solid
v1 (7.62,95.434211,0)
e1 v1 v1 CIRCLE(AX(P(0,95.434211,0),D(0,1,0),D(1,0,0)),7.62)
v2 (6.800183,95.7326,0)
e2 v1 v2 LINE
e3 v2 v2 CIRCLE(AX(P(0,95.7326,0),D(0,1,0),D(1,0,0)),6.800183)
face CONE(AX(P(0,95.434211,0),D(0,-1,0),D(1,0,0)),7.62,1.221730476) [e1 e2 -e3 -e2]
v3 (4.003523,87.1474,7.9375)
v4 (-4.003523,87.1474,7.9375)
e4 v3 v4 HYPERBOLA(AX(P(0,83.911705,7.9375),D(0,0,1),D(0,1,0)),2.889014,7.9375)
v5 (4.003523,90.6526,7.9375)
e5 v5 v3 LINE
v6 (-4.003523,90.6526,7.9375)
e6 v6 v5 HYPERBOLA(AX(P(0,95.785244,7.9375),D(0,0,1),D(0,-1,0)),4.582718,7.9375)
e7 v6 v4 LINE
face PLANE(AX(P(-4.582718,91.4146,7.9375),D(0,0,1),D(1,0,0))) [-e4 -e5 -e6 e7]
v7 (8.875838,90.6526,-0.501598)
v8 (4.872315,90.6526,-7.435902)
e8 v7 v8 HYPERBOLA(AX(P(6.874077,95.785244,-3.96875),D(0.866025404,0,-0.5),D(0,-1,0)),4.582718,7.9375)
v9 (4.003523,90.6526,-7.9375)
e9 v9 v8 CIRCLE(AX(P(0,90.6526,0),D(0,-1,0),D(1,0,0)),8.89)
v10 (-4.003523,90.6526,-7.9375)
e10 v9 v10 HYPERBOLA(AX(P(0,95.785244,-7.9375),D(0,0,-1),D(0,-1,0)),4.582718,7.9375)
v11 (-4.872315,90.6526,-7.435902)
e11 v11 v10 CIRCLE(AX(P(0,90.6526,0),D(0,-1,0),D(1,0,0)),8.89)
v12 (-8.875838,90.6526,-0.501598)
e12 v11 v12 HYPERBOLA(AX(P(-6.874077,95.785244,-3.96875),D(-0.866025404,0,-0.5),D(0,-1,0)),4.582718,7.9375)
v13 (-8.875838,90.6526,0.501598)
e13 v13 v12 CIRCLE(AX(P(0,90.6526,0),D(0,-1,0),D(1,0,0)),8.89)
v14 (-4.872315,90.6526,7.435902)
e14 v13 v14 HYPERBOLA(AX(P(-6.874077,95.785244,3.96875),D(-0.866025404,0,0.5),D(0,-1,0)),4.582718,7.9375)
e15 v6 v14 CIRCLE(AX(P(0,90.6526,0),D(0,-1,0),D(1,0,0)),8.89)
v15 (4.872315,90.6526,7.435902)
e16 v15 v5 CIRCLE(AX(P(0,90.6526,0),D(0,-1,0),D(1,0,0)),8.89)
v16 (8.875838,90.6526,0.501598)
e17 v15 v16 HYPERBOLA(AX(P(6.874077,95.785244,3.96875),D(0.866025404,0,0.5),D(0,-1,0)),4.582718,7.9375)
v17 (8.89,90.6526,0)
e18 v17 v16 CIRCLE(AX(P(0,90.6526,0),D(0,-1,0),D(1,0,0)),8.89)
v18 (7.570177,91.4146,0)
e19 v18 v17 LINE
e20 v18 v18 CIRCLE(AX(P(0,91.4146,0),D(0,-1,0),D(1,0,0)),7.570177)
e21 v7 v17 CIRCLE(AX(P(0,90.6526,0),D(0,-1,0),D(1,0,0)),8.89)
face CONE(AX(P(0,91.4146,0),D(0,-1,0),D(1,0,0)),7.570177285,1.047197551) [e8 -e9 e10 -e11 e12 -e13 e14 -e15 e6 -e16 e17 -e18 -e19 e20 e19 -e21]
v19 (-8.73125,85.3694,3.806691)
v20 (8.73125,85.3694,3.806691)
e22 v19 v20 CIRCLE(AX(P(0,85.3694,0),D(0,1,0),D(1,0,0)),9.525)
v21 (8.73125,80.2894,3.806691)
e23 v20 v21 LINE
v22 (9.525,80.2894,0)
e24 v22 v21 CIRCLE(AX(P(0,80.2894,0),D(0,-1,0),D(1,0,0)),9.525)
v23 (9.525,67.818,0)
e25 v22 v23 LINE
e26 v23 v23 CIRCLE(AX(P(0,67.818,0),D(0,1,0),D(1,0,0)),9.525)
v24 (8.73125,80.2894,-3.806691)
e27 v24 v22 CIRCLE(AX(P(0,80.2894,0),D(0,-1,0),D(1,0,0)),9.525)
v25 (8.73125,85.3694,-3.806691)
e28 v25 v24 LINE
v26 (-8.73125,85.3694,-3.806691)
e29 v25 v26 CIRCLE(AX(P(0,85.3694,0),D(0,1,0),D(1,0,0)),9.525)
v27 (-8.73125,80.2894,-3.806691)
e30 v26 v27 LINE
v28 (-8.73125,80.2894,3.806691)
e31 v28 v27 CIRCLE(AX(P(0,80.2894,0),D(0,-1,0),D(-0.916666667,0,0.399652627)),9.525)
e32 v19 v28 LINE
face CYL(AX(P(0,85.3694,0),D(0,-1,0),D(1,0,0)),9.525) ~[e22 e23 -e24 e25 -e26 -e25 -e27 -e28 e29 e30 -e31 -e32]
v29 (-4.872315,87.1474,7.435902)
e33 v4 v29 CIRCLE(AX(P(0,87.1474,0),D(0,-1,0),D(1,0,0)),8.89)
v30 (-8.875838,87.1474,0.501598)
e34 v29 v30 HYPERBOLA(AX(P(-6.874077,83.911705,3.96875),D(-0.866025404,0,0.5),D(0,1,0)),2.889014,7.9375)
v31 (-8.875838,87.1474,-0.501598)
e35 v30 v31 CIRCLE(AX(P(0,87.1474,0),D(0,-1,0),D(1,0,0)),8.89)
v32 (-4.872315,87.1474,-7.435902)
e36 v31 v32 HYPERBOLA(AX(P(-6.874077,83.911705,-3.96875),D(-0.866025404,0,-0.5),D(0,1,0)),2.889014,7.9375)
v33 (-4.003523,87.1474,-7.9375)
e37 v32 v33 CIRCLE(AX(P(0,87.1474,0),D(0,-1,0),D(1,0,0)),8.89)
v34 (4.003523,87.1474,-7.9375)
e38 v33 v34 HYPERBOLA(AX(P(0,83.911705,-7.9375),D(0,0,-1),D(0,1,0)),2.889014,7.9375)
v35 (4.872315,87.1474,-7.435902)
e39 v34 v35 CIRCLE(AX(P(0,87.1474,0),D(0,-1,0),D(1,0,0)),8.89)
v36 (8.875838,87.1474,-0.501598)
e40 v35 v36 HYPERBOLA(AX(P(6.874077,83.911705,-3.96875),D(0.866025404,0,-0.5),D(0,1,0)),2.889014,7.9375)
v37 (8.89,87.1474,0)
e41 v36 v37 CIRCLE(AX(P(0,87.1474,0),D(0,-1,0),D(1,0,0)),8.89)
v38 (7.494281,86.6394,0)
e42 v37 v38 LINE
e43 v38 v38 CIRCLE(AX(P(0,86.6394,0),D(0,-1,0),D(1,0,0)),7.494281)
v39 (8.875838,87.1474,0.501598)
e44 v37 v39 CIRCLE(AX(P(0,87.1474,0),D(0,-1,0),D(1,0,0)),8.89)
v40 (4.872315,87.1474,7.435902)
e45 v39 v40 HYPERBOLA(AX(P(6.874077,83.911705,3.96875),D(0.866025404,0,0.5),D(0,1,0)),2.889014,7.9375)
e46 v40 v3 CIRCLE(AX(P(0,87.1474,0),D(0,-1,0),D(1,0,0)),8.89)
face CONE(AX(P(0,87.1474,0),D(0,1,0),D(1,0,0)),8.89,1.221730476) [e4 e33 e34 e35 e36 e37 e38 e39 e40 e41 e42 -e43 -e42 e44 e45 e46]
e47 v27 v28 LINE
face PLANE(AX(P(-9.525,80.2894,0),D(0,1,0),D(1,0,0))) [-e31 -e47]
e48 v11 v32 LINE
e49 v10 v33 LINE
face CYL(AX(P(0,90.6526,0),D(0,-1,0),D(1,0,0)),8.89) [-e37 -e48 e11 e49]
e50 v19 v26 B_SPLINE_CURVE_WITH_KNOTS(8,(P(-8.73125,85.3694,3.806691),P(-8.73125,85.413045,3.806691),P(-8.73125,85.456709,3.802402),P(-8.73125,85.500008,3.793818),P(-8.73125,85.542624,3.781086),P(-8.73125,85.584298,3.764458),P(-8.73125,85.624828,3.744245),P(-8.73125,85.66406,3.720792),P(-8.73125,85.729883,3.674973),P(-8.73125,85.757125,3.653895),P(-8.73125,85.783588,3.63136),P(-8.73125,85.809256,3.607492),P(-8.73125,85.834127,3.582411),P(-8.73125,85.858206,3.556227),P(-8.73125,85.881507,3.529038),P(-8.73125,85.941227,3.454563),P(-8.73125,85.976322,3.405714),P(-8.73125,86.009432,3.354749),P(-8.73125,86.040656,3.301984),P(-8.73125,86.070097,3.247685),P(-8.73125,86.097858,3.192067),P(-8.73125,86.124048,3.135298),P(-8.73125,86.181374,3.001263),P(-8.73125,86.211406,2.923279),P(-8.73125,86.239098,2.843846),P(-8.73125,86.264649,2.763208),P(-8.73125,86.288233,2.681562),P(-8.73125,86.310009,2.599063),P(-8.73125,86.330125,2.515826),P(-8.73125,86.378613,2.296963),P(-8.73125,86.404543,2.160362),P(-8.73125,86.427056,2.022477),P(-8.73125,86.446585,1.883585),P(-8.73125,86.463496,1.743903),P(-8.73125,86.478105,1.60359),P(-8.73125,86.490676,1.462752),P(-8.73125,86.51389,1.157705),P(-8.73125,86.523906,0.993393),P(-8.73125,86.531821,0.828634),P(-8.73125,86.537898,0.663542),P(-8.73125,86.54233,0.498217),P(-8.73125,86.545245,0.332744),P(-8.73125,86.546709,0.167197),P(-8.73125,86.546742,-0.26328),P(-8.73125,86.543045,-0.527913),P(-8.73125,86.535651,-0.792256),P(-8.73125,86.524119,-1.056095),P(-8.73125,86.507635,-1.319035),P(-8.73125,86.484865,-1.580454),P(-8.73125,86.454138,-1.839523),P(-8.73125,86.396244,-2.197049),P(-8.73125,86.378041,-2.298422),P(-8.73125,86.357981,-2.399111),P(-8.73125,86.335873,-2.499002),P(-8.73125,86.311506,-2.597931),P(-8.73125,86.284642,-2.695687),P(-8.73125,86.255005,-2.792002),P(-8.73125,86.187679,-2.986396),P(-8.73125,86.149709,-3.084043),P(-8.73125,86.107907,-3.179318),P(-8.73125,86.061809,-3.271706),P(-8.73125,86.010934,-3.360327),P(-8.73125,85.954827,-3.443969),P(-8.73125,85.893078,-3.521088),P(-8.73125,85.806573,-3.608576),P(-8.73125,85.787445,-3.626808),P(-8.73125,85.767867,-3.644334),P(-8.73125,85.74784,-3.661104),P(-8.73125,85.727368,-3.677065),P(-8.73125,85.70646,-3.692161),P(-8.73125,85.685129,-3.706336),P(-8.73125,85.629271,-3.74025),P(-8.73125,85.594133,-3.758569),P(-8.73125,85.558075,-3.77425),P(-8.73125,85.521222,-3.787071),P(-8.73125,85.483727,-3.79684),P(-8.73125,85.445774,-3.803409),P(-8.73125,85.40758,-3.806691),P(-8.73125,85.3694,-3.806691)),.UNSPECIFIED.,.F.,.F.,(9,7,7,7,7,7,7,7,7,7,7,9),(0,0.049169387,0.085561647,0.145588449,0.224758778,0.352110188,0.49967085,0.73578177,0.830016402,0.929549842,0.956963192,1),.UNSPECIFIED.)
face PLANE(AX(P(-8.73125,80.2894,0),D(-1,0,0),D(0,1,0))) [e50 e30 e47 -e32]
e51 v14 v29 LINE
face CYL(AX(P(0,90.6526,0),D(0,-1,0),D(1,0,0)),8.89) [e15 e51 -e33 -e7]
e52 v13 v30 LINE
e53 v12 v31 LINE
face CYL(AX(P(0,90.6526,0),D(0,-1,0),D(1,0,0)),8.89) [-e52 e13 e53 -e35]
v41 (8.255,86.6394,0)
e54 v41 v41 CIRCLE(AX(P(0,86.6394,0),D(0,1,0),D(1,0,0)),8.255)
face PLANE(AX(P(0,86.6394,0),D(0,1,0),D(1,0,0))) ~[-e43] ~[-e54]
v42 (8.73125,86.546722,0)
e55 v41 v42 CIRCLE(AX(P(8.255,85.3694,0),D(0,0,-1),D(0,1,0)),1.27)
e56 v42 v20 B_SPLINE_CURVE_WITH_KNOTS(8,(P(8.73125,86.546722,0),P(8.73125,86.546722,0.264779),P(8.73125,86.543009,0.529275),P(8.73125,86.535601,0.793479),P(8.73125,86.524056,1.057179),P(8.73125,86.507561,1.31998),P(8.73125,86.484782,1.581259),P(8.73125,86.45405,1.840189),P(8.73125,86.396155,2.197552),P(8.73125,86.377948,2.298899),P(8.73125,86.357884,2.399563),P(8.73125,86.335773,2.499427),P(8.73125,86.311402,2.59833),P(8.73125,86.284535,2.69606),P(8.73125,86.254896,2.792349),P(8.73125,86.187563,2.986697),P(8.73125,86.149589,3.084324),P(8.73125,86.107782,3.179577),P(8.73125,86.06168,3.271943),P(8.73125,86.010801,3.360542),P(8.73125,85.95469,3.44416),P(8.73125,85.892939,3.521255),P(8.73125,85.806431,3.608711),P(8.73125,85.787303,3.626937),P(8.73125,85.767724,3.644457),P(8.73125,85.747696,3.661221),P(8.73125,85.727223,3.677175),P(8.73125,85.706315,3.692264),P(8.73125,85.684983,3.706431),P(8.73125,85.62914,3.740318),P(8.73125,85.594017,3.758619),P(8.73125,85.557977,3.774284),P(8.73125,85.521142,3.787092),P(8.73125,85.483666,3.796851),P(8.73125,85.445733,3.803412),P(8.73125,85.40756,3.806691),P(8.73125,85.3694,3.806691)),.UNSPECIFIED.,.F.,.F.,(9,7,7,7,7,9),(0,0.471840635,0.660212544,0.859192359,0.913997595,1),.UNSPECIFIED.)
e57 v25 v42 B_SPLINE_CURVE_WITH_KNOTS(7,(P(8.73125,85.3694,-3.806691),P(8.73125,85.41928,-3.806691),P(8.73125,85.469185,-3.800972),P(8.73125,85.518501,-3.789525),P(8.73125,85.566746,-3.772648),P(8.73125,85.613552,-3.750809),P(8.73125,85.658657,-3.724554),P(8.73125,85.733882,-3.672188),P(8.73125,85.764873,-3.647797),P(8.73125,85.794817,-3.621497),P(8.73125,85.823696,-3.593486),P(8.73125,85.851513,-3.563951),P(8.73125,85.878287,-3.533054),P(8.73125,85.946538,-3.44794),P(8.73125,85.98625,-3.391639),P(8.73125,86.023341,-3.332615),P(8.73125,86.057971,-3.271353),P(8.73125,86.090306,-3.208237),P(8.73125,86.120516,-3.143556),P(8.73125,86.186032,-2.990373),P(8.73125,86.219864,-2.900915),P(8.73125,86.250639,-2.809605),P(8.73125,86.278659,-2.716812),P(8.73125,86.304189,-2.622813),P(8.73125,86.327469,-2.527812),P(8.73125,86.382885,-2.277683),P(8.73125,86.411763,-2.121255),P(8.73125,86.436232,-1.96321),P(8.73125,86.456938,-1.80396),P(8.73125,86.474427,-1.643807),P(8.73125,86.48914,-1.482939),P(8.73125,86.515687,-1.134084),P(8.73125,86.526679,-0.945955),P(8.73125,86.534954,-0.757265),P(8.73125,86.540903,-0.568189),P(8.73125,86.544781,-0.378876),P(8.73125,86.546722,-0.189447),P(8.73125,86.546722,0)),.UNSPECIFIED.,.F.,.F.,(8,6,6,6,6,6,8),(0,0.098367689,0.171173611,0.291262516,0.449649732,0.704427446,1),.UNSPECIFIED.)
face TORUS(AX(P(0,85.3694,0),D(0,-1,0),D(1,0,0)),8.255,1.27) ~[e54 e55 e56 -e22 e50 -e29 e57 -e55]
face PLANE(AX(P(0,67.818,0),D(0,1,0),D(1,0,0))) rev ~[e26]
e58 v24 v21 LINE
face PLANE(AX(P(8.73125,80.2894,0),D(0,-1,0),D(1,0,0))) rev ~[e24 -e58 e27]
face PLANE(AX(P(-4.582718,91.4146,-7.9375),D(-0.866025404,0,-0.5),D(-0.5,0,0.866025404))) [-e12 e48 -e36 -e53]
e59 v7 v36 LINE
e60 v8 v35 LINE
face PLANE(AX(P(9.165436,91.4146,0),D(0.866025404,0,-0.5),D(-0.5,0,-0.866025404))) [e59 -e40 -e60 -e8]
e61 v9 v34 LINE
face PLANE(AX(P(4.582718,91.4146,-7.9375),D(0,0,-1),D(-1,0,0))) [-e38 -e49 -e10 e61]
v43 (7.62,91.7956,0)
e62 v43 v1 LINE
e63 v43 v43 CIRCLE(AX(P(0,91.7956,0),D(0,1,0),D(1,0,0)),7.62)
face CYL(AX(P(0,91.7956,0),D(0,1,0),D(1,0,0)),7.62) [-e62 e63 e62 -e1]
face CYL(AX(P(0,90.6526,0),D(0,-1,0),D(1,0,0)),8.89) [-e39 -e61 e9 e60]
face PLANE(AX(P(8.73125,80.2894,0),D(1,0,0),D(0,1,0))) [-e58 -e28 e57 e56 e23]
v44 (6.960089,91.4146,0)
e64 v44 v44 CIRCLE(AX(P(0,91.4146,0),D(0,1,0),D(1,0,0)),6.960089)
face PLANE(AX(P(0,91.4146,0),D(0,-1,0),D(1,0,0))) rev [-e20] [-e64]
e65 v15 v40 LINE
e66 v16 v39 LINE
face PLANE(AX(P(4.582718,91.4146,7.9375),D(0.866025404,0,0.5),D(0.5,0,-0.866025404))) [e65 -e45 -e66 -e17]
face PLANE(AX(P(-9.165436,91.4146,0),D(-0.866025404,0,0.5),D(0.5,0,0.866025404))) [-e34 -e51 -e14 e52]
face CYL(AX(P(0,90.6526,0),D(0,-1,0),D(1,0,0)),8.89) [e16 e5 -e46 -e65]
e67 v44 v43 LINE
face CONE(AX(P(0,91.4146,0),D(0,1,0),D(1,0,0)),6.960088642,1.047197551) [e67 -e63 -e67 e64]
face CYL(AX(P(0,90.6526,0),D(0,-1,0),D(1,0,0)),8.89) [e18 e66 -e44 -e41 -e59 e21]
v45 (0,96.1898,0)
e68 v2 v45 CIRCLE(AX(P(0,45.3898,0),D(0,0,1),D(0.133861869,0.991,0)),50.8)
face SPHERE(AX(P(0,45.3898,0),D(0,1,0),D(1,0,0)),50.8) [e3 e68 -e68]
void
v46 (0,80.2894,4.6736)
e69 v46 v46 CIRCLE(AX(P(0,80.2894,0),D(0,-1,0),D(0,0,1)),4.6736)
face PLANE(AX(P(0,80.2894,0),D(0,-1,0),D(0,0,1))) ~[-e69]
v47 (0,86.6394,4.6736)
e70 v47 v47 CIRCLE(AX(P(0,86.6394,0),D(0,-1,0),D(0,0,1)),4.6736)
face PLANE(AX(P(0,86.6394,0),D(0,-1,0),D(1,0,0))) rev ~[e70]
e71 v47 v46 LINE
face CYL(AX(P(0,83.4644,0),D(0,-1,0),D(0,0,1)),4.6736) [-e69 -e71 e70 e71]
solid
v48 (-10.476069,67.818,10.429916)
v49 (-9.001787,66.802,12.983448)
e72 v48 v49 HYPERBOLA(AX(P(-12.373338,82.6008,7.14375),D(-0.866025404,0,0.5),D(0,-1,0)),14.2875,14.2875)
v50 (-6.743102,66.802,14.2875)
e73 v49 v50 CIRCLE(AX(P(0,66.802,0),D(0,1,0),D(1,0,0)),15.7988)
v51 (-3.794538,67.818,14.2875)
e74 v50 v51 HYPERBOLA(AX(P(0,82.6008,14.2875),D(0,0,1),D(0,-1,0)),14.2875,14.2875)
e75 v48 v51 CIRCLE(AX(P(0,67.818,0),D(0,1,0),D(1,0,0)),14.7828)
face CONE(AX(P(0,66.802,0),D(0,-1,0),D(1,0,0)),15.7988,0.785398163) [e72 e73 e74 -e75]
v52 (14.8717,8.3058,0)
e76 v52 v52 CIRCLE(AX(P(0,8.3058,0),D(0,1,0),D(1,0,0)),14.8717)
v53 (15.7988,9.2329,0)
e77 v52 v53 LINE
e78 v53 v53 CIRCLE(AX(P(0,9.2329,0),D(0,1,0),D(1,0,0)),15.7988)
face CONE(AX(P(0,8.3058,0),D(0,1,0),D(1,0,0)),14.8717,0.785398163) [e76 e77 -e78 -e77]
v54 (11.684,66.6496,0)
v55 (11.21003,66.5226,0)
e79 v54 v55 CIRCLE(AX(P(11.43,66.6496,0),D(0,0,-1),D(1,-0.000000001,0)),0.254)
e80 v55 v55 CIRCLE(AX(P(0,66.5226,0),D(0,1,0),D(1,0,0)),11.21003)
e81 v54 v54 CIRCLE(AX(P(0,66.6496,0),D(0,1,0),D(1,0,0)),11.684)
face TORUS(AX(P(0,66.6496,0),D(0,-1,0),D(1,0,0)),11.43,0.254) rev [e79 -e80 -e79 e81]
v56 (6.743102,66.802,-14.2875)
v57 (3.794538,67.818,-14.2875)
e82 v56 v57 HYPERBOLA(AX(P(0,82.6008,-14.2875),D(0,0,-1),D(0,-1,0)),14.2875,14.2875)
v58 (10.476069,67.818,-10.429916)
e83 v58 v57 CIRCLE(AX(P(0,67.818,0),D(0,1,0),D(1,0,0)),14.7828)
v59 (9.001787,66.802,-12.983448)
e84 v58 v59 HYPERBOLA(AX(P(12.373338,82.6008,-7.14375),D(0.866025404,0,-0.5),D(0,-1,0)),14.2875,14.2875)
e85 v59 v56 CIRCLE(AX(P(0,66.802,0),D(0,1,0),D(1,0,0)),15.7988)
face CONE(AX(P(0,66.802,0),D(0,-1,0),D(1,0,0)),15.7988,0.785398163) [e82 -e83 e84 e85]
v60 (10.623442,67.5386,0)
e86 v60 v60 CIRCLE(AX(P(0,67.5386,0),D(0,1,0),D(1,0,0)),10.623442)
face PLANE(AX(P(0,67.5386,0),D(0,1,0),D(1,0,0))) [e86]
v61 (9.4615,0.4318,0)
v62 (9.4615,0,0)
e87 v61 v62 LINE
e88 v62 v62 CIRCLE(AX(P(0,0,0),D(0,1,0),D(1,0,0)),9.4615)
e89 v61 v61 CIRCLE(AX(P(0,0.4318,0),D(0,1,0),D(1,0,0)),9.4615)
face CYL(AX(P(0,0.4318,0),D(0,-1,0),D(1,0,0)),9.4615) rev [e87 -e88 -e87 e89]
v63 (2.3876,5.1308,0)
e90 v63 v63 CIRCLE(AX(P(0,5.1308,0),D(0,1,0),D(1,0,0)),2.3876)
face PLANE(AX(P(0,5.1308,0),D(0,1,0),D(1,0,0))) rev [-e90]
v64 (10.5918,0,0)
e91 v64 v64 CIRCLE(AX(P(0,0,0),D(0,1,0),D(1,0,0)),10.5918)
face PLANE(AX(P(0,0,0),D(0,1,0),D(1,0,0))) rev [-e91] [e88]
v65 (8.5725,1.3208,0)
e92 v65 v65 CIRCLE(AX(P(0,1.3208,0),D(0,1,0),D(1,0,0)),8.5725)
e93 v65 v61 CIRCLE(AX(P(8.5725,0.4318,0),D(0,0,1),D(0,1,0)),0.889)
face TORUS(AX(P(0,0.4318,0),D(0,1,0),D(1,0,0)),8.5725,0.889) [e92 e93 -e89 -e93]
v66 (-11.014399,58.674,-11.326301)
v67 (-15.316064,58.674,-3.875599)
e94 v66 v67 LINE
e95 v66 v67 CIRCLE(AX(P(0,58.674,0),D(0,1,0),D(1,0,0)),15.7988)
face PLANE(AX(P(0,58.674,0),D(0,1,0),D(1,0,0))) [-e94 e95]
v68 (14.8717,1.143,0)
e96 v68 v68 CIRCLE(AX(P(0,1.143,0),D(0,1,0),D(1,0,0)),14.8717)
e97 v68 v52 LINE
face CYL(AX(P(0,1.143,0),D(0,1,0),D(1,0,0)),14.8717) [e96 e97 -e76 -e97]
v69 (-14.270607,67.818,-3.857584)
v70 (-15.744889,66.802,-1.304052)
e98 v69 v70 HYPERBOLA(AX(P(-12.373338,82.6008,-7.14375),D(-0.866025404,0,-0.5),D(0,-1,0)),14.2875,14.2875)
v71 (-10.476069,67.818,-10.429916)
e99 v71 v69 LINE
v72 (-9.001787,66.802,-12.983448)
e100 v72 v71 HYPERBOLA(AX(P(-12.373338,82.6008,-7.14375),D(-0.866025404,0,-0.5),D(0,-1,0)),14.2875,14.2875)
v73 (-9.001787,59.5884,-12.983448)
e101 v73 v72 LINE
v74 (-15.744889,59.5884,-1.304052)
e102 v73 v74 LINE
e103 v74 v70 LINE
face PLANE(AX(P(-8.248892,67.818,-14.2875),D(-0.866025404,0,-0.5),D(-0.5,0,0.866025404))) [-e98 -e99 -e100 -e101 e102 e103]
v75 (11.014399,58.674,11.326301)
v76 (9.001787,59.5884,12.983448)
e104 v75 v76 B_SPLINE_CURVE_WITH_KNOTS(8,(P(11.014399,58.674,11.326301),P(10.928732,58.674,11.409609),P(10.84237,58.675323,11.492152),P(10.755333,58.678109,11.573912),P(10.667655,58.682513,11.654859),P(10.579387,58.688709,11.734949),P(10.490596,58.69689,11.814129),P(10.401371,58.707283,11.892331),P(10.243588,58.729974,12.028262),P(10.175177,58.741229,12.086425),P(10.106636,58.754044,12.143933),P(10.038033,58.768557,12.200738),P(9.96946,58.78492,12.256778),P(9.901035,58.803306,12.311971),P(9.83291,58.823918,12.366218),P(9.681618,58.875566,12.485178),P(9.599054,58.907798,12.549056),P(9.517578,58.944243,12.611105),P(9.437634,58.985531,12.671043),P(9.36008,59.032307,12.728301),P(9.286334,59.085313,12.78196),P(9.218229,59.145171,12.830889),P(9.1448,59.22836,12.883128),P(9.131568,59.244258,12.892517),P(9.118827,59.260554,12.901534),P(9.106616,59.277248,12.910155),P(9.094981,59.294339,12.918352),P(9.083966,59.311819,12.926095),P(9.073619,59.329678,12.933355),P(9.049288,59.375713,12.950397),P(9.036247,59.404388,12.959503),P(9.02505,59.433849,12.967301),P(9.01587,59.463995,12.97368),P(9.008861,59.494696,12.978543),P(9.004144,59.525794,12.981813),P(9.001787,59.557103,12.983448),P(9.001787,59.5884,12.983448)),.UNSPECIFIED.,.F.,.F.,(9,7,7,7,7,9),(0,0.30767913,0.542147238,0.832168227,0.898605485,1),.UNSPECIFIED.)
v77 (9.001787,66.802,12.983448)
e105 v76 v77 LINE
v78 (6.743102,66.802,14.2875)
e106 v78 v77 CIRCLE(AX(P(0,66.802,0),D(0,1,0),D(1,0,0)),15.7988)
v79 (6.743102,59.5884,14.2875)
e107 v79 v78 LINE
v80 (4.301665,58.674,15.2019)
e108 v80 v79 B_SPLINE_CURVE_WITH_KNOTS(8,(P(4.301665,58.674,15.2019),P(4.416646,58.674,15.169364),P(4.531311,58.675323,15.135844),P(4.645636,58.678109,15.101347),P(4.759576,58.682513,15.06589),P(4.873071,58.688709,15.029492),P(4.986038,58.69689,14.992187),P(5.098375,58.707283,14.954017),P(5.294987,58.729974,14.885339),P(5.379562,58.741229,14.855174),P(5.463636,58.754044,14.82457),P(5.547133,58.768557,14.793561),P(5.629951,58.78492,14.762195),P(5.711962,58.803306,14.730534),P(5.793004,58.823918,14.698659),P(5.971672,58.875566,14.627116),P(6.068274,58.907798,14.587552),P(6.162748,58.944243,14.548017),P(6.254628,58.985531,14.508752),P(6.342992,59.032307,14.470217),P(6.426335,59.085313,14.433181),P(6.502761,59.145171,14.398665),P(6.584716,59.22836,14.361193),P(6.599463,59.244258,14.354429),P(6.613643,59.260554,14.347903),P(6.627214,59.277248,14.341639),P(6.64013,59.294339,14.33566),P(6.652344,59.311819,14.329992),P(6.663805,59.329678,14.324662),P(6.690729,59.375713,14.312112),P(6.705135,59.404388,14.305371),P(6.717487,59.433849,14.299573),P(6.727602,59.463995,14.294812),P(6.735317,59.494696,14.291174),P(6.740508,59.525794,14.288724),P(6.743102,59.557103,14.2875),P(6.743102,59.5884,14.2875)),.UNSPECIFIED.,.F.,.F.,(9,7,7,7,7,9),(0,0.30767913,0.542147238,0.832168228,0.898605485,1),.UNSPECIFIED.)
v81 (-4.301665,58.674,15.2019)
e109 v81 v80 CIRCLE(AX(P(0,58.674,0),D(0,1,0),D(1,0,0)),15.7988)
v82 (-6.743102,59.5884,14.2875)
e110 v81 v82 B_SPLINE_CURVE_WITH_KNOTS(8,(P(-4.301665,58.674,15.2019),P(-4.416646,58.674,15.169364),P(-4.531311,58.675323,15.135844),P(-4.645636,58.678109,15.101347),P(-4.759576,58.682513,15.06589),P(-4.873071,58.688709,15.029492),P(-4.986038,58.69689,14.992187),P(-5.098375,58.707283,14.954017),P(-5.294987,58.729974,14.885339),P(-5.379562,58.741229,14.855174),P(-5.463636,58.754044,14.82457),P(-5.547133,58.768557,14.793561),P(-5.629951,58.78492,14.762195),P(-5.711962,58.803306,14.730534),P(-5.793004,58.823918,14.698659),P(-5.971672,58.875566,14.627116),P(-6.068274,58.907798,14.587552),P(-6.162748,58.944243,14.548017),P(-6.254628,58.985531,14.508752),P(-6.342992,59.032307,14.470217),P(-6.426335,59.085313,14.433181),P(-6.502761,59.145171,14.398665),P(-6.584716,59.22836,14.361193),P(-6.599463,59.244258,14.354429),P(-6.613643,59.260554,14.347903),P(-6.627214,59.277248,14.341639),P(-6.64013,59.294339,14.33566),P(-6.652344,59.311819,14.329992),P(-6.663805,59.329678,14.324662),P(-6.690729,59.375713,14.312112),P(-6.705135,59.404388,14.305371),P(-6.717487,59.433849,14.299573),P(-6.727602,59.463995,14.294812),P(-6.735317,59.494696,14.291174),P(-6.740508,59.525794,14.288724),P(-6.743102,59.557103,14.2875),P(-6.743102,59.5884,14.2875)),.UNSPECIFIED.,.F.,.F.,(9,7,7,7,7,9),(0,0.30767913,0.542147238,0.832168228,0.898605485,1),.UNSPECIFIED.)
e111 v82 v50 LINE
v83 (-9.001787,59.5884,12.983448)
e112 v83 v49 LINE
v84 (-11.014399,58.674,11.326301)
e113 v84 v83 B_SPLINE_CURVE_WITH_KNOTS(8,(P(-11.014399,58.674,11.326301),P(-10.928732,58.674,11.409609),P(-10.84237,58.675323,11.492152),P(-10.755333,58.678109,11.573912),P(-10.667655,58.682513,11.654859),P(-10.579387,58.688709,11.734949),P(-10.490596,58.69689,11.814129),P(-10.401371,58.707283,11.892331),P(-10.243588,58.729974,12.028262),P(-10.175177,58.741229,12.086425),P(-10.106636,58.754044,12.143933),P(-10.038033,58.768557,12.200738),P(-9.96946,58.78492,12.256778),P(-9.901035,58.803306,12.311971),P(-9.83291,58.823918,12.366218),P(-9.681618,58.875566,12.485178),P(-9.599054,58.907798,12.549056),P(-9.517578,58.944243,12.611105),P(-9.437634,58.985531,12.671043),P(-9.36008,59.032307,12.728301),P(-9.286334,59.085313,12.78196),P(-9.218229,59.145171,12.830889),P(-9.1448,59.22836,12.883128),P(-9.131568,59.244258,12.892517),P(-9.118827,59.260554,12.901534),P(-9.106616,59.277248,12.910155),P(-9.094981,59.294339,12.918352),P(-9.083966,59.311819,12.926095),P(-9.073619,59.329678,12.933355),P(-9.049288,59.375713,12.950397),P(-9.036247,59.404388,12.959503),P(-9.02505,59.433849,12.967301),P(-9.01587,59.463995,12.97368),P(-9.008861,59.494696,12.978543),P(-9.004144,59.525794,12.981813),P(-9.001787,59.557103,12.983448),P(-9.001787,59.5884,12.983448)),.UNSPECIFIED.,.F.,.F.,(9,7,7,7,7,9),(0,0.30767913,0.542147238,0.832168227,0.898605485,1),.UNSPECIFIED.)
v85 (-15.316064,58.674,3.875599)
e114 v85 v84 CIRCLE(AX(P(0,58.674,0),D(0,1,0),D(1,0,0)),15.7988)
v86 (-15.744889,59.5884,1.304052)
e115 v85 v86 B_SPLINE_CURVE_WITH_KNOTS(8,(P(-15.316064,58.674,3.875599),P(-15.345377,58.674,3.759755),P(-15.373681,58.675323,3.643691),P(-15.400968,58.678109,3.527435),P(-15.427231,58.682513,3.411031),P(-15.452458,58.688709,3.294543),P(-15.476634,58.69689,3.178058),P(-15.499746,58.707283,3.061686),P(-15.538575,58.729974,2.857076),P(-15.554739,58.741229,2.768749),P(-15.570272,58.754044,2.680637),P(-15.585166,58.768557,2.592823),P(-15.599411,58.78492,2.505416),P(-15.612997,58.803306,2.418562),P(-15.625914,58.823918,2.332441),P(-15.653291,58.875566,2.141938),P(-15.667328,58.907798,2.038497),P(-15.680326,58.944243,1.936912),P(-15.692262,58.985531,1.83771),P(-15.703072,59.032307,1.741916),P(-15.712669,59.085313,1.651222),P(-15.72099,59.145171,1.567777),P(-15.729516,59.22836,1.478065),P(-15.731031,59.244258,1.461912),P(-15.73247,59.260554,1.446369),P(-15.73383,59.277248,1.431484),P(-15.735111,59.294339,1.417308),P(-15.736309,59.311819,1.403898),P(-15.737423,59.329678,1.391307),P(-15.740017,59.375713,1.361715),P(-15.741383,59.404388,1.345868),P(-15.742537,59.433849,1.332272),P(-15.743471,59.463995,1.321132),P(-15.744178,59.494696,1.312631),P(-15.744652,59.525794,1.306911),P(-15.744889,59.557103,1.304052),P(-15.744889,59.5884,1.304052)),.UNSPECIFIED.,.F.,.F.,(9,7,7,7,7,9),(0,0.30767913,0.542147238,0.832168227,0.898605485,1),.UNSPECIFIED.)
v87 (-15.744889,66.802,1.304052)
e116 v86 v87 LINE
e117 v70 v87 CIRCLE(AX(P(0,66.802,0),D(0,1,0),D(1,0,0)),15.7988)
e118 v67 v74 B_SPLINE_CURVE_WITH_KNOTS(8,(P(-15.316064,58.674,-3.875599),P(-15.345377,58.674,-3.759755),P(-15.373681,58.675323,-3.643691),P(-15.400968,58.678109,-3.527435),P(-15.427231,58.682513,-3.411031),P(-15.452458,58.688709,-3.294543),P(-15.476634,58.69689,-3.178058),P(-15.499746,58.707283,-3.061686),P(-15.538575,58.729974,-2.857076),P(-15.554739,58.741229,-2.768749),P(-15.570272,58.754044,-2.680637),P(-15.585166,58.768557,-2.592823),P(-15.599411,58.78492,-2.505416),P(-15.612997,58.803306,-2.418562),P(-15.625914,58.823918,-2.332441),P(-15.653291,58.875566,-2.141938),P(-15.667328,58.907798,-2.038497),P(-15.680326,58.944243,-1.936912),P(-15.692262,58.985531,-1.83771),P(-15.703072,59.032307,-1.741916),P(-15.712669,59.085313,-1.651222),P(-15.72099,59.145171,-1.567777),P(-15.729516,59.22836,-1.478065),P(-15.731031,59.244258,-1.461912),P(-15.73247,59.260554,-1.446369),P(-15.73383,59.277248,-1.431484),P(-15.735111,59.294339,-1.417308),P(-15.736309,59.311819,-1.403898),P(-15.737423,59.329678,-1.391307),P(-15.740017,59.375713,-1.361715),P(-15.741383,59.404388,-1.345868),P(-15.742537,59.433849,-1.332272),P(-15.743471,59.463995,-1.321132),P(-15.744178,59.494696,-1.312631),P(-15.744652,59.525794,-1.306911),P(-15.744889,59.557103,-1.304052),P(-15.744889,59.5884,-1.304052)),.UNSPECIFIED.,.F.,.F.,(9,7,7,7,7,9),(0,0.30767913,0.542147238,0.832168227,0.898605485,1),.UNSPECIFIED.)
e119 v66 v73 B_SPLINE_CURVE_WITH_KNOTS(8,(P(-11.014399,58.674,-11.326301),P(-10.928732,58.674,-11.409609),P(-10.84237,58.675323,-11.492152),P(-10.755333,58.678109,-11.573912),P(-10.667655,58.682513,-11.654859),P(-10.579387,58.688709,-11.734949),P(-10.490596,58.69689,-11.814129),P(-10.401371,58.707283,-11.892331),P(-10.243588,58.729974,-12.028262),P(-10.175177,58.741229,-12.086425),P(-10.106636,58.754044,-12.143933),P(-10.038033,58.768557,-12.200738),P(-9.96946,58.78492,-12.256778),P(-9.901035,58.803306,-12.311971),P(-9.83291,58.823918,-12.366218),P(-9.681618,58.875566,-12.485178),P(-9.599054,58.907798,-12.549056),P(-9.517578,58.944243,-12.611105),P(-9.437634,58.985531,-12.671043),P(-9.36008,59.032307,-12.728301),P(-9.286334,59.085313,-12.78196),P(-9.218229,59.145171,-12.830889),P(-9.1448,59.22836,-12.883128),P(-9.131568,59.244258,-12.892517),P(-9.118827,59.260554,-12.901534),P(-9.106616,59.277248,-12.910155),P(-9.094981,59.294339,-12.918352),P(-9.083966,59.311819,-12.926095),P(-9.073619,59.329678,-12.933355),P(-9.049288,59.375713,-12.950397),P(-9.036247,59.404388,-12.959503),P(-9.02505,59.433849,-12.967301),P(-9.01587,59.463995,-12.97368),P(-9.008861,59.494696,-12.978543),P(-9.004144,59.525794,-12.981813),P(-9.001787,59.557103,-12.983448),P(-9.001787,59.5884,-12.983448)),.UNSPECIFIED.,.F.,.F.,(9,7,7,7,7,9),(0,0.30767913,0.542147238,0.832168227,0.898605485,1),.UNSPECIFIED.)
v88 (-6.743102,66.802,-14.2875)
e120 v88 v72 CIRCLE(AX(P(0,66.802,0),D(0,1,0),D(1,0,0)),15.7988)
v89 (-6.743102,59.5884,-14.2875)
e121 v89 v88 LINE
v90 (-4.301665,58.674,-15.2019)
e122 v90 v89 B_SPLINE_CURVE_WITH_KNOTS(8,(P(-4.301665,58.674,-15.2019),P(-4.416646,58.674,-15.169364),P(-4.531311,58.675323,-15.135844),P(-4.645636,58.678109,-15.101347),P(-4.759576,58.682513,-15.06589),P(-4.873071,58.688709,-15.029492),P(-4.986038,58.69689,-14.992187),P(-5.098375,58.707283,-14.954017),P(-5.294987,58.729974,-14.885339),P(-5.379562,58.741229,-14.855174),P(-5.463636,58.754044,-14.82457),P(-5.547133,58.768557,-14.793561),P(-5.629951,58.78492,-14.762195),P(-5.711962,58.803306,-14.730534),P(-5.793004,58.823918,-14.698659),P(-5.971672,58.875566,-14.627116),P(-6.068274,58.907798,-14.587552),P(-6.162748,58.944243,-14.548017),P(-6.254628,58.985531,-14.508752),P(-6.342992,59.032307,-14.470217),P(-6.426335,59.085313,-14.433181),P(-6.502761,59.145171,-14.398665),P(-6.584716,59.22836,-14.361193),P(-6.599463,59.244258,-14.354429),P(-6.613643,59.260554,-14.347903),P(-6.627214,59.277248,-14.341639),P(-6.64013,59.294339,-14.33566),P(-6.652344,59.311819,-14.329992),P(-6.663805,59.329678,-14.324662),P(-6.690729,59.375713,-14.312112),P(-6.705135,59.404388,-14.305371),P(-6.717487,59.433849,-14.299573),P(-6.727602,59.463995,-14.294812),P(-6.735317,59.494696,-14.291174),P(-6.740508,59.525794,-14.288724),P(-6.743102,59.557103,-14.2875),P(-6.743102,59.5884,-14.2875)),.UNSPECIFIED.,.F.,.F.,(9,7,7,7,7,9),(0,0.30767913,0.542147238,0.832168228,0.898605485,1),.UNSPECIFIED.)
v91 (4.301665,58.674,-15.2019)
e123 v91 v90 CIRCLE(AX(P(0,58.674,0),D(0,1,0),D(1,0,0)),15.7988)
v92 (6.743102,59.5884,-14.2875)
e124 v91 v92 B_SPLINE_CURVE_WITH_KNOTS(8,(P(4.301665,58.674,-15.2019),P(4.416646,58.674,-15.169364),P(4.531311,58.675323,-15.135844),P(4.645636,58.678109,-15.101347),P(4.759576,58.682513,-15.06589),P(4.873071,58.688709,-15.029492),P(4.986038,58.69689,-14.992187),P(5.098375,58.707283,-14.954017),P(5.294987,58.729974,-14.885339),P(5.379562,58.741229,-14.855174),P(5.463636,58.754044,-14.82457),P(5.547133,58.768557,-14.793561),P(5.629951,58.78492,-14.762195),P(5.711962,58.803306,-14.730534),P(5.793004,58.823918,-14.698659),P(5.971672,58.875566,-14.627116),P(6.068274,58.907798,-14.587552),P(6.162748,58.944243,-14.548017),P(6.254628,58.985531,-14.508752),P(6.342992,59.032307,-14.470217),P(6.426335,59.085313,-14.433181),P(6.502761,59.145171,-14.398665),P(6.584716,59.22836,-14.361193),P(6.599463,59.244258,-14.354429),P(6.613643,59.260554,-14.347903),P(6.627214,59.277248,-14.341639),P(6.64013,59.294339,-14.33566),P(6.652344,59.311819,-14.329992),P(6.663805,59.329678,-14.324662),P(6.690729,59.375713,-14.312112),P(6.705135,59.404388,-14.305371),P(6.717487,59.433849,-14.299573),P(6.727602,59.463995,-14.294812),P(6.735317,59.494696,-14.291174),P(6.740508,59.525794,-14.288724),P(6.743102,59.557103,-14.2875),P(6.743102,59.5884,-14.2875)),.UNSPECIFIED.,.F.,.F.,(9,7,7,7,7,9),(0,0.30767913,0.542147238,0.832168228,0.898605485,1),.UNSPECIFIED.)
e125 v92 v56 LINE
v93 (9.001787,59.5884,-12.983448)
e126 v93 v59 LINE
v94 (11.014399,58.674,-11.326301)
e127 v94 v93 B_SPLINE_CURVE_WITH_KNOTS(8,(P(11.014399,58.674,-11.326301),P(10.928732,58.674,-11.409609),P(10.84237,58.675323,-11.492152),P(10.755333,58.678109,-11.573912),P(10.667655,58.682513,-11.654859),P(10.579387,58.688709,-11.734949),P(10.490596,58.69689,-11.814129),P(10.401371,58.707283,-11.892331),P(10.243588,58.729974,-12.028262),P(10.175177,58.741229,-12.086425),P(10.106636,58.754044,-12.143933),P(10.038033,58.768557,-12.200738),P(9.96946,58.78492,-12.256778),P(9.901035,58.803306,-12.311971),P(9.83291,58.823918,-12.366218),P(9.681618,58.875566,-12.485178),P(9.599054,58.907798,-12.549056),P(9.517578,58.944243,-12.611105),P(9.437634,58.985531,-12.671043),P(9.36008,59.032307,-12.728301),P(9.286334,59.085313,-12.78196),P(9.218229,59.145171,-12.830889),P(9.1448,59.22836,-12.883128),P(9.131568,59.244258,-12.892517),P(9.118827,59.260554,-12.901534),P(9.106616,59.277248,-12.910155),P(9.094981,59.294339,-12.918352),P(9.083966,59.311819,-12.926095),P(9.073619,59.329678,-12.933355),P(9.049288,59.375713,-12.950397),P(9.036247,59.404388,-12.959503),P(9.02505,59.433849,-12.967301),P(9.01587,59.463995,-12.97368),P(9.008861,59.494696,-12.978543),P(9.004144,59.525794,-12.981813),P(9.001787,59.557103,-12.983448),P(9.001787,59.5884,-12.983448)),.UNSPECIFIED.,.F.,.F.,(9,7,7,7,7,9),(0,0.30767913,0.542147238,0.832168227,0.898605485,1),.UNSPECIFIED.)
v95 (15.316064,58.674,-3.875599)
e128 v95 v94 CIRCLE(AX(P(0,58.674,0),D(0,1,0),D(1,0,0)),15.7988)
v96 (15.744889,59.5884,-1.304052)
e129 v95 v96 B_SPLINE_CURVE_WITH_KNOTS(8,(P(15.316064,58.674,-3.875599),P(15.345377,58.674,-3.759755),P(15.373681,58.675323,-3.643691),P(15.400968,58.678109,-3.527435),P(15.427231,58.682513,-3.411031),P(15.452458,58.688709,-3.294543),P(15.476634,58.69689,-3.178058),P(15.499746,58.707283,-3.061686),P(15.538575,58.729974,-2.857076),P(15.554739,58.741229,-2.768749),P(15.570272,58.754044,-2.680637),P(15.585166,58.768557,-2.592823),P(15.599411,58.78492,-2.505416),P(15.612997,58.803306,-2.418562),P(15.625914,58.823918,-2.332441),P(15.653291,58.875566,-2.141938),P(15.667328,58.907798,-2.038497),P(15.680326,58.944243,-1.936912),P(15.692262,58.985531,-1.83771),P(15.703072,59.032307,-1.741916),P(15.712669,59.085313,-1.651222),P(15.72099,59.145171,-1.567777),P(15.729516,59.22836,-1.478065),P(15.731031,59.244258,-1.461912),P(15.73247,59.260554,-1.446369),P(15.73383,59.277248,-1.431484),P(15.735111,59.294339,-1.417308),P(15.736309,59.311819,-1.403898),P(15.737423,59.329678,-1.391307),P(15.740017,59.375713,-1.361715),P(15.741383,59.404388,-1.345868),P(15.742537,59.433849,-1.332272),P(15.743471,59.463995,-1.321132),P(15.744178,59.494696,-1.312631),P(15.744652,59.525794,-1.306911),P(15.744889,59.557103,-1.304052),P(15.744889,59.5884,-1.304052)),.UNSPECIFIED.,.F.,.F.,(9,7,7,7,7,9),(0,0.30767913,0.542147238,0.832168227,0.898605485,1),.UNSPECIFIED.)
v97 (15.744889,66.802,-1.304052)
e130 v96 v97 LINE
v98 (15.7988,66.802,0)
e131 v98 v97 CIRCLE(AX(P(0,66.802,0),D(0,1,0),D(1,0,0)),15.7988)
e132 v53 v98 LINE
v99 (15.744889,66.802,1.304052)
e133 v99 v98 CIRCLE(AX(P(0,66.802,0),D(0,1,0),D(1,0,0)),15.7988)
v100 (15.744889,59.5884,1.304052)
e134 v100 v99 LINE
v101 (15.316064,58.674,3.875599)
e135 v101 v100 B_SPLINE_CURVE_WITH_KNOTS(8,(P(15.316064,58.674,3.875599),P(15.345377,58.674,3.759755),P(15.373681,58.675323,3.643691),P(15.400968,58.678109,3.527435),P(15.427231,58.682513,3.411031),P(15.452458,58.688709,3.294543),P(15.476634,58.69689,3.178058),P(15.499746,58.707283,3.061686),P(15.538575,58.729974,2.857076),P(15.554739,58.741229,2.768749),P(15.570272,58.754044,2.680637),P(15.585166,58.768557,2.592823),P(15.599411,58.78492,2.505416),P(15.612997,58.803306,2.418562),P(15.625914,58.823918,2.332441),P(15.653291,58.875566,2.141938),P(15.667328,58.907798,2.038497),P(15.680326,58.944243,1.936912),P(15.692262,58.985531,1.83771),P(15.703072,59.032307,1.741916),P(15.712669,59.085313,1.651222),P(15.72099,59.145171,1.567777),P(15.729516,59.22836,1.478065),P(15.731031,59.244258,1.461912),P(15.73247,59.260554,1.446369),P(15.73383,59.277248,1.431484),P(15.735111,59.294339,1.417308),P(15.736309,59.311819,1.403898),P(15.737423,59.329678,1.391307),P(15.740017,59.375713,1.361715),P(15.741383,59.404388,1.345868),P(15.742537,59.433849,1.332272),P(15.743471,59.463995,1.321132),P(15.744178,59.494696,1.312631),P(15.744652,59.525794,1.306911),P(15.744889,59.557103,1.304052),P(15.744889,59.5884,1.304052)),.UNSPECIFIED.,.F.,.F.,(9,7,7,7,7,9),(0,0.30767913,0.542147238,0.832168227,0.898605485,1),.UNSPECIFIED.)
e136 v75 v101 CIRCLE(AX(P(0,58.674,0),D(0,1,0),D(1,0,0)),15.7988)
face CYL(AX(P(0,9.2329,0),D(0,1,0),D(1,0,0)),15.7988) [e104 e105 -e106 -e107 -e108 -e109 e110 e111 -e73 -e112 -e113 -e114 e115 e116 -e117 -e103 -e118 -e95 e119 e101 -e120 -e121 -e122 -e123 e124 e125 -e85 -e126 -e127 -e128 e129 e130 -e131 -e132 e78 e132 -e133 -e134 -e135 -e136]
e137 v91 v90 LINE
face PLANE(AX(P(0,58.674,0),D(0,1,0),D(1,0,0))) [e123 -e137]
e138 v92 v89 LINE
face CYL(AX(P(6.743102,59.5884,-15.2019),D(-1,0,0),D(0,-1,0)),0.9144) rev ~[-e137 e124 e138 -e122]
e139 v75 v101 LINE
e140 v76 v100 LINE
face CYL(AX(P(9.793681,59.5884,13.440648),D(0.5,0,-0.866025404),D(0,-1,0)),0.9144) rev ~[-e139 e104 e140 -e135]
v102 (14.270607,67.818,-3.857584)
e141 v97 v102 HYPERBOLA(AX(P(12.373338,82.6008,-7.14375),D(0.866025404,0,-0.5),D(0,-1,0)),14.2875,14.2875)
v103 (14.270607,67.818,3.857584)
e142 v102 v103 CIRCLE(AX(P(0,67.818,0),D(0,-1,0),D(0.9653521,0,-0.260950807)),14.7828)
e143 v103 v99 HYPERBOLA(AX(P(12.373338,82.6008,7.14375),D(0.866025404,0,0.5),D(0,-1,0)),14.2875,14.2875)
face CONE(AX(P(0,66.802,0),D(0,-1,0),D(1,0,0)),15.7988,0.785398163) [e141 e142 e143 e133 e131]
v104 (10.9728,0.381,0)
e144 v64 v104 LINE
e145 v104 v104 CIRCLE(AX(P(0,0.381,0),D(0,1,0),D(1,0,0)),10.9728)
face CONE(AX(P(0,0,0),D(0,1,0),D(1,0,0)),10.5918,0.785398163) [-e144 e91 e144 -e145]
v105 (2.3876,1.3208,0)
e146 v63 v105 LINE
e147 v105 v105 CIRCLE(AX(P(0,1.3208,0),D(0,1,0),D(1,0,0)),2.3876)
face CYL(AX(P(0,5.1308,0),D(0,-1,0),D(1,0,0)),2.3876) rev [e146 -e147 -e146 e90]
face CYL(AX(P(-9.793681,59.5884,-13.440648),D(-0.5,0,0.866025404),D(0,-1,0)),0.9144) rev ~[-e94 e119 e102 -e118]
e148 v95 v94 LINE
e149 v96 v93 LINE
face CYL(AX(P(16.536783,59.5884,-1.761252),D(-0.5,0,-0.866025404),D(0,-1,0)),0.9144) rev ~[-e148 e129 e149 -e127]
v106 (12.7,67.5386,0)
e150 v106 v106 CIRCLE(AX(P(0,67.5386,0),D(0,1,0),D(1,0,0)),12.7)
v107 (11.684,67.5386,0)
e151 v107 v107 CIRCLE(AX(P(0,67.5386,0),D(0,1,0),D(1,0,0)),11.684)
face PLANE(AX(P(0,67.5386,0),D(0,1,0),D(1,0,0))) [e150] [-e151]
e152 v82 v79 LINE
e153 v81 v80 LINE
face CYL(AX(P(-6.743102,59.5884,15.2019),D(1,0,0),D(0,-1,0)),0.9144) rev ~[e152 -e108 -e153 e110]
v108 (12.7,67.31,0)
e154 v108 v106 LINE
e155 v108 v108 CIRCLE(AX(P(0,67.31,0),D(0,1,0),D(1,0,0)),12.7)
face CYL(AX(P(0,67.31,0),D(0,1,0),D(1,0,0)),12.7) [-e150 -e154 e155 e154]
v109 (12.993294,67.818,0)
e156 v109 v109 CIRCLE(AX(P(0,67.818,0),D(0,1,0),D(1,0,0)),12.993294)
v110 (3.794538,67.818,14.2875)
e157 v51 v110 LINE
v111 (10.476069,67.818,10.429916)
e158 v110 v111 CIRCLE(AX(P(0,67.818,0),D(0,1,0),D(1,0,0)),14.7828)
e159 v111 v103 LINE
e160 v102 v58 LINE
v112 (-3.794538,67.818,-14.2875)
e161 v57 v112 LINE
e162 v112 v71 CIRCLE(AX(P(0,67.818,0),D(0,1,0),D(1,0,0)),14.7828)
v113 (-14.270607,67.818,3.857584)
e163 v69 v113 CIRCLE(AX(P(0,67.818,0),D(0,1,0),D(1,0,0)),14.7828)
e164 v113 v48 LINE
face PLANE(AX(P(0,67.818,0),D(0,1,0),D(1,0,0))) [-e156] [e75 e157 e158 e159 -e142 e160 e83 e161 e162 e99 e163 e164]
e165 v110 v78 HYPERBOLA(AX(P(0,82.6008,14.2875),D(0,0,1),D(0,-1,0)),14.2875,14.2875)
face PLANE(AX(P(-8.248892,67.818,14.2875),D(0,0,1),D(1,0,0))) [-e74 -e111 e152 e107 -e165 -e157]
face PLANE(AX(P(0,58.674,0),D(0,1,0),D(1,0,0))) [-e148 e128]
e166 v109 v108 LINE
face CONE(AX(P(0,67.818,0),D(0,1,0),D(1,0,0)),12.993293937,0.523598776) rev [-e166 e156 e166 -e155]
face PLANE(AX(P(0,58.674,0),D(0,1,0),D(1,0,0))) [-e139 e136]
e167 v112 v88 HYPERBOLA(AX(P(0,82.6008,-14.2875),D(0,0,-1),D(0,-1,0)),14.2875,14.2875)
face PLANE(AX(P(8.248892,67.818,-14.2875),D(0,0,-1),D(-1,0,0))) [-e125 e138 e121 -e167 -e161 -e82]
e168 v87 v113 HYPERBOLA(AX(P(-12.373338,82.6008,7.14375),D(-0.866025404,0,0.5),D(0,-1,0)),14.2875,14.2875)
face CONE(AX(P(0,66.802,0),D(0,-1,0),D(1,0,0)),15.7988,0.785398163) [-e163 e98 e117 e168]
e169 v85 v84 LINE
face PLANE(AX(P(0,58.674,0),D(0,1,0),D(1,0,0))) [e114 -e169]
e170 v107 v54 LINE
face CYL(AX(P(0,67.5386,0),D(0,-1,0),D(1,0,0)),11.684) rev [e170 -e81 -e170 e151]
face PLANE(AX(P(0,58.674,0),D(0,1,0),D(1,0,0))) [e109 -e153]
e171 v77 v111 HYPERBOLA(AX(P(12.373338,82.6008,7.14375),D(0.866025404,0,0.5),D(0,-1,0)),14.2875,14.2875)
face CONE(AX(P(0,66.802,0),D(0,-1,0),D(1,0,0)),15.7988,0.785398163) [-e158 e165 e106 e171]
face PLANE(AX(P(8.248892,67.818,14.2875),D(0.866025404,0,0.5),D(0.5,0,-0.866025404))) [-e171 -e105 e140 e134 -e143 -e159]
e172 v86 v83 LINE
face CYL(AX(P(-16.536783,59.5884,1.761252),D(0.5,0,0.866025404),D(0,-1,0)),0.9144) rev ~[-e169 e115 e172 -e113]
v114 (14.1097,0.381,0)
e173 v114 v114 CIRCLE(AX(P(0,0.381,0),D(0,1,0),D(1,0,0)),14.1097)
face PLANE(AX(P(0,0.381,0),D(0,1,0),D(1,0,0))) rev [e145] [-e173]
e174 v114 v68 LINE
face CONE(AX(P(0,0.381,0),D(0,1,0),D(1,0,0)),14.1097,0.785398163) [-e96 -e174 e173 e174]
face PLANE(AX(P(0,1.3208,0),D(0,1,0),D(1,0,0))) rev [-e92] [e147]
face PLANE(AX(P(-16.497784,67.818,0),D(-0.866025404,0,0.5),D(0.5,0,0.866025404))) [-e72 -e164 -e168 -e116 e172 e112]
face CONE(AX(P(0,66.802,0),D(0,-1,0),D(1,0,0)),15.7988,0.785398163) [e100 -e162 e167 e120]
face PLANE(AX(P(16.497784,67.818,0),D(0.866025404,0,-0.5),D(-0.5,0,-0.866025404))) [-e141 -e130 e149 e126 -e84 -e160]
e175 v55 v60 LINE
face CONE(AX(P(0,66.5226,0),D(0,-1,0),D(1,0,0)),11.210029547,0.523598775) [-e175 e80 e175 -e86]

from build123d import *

# Parameters (mm, degrees)
SKETCH2_OUTSIDE_W  = 49.918
SKETCH2_OUTSIDE_H  = 49.918
CUT_EXTRUDE1_DEPTH = 9.144
FILLET1_R          = 0.9144
SKETCH4_W          = 0.79375
SKETCH4_H          = 6.35
CUT_EXTRUDE2_DEPTH = 11.1125
SKETCH5_W          = 4.6736
SKETCH5_H          = 6.35
SKETCH8_OUTSIDE_W  = 54.03
SKETCH8_OUTSIDE_H  = 54.03
CUT_EXTRUDE3_DEPTH = 4.7752


with BuildPart() as part:
    # Sketch1 → Revolve1 (revolve)
    with BuildSketch(Plane.XY):
        with BuildLine():
            Line((9.4615, 0), (10.5918, 0))
            Line((10.5918, 0), (10.9728, 0.381))
            Line((10.9728, 0.381), (14.1097, 0.381))
            Line((14.1097, 0.381), (14.8717, 1.143))
            Line((14.8717, 1.143), (14.8717, 8.3058))
            Line((14.8717, 8.3058), (15.7988, 9.2329))
            Line((15.7988, 9.2329), (15.7988, 66.802))
            Line((15.7988, 66.802), (14.7828, 67.818))
            Line((14.7828, 67.818), (12.993293937, 67.818))
            Line((12.993293937, 67.818), (12.7, 67.31))
            Line((12.7, 67.31), (12.7, 67.5386))
            Line((12.7, 67.5386), (11.684, 67.5386))
            Line((11.684, 67.5386), (11.684, 66.6496))
            ThreePointArc((11.684, 66.6496), (11.495740037, 66.40425484), (11.210029547, 66.5226))
            Line((11.210029547, 66.5226), (10.623441674, 67.5386))
            Line((10.623441674, 67.5386), (0, 67.5386))
            Line((0, 67.5386), (0, 5.1308))
            Line((0, 5.1308), (2.3876, 5.1308))
            Line((2.3876, 5.1308), (2.3876, 1.3208))
            Line((2.3876, 1.3208), (8.5725, 1.3208))
            ThreePointArc((8.5725, 1.3208), (7.943882072, -0.196817928), (9.4615, 0.4318))
            Line((9.4615, 0.4318), (9.4615, 0))
        make_face()
    revolve(axis=Axis((0, 0, 0), (0, 1, 0)))

    # Sketch2 outside → Cut-Extrude1 (cut)
    with BuildSketch(Plane(origin=(0, 67.818, 0), x_dir=(1, 0, 0), z_dir=(0, 1, 0))):
        Rectangle(SKETCH2_OUTSIDE_W, SKETCH2_OUTSIDE_H)
        Polygon((16.497783942, 0), (8.248891971, 14.2875), (-8.248891971, 14.2875), (-16.497783942, 0), (-8.248891971, -14.2875), (8.248891971, -14.2875), align=None, mode=Mode.SUBTRACT)
    extrude(amount=-CUT_EXTRUDE1_DEPTH, mode=Mode.SUBTRACT)

    # Fillet1
    fillet1_edges = [part.edges().sort_by_distance(p)[0] for p in [
        (-12.373337957, 58.674, -7.14375),
        (0, 58.674, -14.2875),
        (12.373337957, 58.674, -7.14375),
        (12.373337957, 58.674, 7.14375),
        (0, 58.674, 14.2875),
        (-12.373337957, 58.674, 7.14375),
    ]]
    fillet(fillet1_edges, radius=FILLET1_R)


with BuildPart() as body_2:
    # Sketch3 → Revolve2 (revolve)
    with BuildSketch(Plane.XY):
        with BuildLine():
            Line((0, 67.818), (0, 86.6394))
            Line((0, 86.6394), (8.255, 86.6394))
            ThreePointArc((8.255, 86.6394), (9.153025612, 86.267425612), (9.525, 85.3694))
            Line((9.525, 85.3694), (9.525, 67.818))
            Line((9.525, 67.818), (0, 67.818))
        make_face()
    revolve(axis=Axis((0, 43.688, 0), (0, 1, 0)))

    # Sketch4 → Cut-Extrude2 (cut, symmetric)
    with BuildSketch(Plane.XY):
        with Locations((-9.128125, 83.4644)):
            Rectangle(SKETCH4_W, SKETCH4_H)
        with Locations((9.128125, 83.4644)):
            Rectangle(SKETCH4_W, SKETCH4_H)
    extrude(amount=CUT_EXTRUDE2_DEPTH, both=True, mode=Mode.SUBTRACT)

    # Sketch5 → 7_16-14 Tapped Hole1 (revolve, cut)
    with BuildSketch(Plane(origin=(0, 86.6394, 0), x_dir=(0, 0, 1), z_dir=(1, 0, 0))):
        with Locations((2.3368, 3.175)):
            Rectangle(SKETCH5_W, SKETCH5_H)
    revolve(axis=Axis((0, 92.9894, 0), (0, -1, 0)), mode=Mode.SUBTRACT)

    # Sketch7 → Revolve3 (revolve)
    with BuildSketch(Plane.XY):
        Polygon((0, 91.4146), (7.570177285, 91.4146), (8.89, 90.6526), (8.89, 87.1474), (7.494281471, 86.6394), (0, 86.6394), align=None)
    revolve(axis=Axis((0, 0, 0), (0, -1, 0)))

    # Sketch8 outside → Cut-Extrude3 (cut)
    with BuildSketch(Plane(origin=(0, 91.4146, 0), x_dir=(1, 0, 0), z_dir=(0, 1, 0))):
        Rectangle(SKETCH8_OUTSIDE_W, SKETCH8_OUTSIDE_H)
        Polygon((9.165435523, 0), (4.582717762, 7.9375), (-4.582717762, 7.9375), (-9.165435523, 0), (-4.582717762, -7.9375), (4.582717762, -7.9375), align=None, mode=Mode.SUBTRACT)
    extrude(amount=-CUT_EXTRUDE3_DEPTH, mode=Mode.SUBTRACT)

    # Sketch9 → Revolve4 (revolve)
    with BuildSketch(Plane.XY):
        with BuildLine():
            Line((0, 96.1898), (0, 91.4146))
            Line((0, 91.4146), (6.960088642, 91.4146))
            Line((6.960088642, 91.4146), (7.62, 91.7956))
            Line((7.62, 91.7956), (7.62, 95.434210996))
            Line((7.62, 95.434210996), (6.80018295, 95.7326))
            ThreePointArc((6.80018295, 95.7326), (3.407767598, 96.075371122), (0, 96.1898))
        make_face()
    revolve(axis=Axis((0, 0, 0), (0, 1, 0)))


solid = Compound([part.part, body_2.part])
